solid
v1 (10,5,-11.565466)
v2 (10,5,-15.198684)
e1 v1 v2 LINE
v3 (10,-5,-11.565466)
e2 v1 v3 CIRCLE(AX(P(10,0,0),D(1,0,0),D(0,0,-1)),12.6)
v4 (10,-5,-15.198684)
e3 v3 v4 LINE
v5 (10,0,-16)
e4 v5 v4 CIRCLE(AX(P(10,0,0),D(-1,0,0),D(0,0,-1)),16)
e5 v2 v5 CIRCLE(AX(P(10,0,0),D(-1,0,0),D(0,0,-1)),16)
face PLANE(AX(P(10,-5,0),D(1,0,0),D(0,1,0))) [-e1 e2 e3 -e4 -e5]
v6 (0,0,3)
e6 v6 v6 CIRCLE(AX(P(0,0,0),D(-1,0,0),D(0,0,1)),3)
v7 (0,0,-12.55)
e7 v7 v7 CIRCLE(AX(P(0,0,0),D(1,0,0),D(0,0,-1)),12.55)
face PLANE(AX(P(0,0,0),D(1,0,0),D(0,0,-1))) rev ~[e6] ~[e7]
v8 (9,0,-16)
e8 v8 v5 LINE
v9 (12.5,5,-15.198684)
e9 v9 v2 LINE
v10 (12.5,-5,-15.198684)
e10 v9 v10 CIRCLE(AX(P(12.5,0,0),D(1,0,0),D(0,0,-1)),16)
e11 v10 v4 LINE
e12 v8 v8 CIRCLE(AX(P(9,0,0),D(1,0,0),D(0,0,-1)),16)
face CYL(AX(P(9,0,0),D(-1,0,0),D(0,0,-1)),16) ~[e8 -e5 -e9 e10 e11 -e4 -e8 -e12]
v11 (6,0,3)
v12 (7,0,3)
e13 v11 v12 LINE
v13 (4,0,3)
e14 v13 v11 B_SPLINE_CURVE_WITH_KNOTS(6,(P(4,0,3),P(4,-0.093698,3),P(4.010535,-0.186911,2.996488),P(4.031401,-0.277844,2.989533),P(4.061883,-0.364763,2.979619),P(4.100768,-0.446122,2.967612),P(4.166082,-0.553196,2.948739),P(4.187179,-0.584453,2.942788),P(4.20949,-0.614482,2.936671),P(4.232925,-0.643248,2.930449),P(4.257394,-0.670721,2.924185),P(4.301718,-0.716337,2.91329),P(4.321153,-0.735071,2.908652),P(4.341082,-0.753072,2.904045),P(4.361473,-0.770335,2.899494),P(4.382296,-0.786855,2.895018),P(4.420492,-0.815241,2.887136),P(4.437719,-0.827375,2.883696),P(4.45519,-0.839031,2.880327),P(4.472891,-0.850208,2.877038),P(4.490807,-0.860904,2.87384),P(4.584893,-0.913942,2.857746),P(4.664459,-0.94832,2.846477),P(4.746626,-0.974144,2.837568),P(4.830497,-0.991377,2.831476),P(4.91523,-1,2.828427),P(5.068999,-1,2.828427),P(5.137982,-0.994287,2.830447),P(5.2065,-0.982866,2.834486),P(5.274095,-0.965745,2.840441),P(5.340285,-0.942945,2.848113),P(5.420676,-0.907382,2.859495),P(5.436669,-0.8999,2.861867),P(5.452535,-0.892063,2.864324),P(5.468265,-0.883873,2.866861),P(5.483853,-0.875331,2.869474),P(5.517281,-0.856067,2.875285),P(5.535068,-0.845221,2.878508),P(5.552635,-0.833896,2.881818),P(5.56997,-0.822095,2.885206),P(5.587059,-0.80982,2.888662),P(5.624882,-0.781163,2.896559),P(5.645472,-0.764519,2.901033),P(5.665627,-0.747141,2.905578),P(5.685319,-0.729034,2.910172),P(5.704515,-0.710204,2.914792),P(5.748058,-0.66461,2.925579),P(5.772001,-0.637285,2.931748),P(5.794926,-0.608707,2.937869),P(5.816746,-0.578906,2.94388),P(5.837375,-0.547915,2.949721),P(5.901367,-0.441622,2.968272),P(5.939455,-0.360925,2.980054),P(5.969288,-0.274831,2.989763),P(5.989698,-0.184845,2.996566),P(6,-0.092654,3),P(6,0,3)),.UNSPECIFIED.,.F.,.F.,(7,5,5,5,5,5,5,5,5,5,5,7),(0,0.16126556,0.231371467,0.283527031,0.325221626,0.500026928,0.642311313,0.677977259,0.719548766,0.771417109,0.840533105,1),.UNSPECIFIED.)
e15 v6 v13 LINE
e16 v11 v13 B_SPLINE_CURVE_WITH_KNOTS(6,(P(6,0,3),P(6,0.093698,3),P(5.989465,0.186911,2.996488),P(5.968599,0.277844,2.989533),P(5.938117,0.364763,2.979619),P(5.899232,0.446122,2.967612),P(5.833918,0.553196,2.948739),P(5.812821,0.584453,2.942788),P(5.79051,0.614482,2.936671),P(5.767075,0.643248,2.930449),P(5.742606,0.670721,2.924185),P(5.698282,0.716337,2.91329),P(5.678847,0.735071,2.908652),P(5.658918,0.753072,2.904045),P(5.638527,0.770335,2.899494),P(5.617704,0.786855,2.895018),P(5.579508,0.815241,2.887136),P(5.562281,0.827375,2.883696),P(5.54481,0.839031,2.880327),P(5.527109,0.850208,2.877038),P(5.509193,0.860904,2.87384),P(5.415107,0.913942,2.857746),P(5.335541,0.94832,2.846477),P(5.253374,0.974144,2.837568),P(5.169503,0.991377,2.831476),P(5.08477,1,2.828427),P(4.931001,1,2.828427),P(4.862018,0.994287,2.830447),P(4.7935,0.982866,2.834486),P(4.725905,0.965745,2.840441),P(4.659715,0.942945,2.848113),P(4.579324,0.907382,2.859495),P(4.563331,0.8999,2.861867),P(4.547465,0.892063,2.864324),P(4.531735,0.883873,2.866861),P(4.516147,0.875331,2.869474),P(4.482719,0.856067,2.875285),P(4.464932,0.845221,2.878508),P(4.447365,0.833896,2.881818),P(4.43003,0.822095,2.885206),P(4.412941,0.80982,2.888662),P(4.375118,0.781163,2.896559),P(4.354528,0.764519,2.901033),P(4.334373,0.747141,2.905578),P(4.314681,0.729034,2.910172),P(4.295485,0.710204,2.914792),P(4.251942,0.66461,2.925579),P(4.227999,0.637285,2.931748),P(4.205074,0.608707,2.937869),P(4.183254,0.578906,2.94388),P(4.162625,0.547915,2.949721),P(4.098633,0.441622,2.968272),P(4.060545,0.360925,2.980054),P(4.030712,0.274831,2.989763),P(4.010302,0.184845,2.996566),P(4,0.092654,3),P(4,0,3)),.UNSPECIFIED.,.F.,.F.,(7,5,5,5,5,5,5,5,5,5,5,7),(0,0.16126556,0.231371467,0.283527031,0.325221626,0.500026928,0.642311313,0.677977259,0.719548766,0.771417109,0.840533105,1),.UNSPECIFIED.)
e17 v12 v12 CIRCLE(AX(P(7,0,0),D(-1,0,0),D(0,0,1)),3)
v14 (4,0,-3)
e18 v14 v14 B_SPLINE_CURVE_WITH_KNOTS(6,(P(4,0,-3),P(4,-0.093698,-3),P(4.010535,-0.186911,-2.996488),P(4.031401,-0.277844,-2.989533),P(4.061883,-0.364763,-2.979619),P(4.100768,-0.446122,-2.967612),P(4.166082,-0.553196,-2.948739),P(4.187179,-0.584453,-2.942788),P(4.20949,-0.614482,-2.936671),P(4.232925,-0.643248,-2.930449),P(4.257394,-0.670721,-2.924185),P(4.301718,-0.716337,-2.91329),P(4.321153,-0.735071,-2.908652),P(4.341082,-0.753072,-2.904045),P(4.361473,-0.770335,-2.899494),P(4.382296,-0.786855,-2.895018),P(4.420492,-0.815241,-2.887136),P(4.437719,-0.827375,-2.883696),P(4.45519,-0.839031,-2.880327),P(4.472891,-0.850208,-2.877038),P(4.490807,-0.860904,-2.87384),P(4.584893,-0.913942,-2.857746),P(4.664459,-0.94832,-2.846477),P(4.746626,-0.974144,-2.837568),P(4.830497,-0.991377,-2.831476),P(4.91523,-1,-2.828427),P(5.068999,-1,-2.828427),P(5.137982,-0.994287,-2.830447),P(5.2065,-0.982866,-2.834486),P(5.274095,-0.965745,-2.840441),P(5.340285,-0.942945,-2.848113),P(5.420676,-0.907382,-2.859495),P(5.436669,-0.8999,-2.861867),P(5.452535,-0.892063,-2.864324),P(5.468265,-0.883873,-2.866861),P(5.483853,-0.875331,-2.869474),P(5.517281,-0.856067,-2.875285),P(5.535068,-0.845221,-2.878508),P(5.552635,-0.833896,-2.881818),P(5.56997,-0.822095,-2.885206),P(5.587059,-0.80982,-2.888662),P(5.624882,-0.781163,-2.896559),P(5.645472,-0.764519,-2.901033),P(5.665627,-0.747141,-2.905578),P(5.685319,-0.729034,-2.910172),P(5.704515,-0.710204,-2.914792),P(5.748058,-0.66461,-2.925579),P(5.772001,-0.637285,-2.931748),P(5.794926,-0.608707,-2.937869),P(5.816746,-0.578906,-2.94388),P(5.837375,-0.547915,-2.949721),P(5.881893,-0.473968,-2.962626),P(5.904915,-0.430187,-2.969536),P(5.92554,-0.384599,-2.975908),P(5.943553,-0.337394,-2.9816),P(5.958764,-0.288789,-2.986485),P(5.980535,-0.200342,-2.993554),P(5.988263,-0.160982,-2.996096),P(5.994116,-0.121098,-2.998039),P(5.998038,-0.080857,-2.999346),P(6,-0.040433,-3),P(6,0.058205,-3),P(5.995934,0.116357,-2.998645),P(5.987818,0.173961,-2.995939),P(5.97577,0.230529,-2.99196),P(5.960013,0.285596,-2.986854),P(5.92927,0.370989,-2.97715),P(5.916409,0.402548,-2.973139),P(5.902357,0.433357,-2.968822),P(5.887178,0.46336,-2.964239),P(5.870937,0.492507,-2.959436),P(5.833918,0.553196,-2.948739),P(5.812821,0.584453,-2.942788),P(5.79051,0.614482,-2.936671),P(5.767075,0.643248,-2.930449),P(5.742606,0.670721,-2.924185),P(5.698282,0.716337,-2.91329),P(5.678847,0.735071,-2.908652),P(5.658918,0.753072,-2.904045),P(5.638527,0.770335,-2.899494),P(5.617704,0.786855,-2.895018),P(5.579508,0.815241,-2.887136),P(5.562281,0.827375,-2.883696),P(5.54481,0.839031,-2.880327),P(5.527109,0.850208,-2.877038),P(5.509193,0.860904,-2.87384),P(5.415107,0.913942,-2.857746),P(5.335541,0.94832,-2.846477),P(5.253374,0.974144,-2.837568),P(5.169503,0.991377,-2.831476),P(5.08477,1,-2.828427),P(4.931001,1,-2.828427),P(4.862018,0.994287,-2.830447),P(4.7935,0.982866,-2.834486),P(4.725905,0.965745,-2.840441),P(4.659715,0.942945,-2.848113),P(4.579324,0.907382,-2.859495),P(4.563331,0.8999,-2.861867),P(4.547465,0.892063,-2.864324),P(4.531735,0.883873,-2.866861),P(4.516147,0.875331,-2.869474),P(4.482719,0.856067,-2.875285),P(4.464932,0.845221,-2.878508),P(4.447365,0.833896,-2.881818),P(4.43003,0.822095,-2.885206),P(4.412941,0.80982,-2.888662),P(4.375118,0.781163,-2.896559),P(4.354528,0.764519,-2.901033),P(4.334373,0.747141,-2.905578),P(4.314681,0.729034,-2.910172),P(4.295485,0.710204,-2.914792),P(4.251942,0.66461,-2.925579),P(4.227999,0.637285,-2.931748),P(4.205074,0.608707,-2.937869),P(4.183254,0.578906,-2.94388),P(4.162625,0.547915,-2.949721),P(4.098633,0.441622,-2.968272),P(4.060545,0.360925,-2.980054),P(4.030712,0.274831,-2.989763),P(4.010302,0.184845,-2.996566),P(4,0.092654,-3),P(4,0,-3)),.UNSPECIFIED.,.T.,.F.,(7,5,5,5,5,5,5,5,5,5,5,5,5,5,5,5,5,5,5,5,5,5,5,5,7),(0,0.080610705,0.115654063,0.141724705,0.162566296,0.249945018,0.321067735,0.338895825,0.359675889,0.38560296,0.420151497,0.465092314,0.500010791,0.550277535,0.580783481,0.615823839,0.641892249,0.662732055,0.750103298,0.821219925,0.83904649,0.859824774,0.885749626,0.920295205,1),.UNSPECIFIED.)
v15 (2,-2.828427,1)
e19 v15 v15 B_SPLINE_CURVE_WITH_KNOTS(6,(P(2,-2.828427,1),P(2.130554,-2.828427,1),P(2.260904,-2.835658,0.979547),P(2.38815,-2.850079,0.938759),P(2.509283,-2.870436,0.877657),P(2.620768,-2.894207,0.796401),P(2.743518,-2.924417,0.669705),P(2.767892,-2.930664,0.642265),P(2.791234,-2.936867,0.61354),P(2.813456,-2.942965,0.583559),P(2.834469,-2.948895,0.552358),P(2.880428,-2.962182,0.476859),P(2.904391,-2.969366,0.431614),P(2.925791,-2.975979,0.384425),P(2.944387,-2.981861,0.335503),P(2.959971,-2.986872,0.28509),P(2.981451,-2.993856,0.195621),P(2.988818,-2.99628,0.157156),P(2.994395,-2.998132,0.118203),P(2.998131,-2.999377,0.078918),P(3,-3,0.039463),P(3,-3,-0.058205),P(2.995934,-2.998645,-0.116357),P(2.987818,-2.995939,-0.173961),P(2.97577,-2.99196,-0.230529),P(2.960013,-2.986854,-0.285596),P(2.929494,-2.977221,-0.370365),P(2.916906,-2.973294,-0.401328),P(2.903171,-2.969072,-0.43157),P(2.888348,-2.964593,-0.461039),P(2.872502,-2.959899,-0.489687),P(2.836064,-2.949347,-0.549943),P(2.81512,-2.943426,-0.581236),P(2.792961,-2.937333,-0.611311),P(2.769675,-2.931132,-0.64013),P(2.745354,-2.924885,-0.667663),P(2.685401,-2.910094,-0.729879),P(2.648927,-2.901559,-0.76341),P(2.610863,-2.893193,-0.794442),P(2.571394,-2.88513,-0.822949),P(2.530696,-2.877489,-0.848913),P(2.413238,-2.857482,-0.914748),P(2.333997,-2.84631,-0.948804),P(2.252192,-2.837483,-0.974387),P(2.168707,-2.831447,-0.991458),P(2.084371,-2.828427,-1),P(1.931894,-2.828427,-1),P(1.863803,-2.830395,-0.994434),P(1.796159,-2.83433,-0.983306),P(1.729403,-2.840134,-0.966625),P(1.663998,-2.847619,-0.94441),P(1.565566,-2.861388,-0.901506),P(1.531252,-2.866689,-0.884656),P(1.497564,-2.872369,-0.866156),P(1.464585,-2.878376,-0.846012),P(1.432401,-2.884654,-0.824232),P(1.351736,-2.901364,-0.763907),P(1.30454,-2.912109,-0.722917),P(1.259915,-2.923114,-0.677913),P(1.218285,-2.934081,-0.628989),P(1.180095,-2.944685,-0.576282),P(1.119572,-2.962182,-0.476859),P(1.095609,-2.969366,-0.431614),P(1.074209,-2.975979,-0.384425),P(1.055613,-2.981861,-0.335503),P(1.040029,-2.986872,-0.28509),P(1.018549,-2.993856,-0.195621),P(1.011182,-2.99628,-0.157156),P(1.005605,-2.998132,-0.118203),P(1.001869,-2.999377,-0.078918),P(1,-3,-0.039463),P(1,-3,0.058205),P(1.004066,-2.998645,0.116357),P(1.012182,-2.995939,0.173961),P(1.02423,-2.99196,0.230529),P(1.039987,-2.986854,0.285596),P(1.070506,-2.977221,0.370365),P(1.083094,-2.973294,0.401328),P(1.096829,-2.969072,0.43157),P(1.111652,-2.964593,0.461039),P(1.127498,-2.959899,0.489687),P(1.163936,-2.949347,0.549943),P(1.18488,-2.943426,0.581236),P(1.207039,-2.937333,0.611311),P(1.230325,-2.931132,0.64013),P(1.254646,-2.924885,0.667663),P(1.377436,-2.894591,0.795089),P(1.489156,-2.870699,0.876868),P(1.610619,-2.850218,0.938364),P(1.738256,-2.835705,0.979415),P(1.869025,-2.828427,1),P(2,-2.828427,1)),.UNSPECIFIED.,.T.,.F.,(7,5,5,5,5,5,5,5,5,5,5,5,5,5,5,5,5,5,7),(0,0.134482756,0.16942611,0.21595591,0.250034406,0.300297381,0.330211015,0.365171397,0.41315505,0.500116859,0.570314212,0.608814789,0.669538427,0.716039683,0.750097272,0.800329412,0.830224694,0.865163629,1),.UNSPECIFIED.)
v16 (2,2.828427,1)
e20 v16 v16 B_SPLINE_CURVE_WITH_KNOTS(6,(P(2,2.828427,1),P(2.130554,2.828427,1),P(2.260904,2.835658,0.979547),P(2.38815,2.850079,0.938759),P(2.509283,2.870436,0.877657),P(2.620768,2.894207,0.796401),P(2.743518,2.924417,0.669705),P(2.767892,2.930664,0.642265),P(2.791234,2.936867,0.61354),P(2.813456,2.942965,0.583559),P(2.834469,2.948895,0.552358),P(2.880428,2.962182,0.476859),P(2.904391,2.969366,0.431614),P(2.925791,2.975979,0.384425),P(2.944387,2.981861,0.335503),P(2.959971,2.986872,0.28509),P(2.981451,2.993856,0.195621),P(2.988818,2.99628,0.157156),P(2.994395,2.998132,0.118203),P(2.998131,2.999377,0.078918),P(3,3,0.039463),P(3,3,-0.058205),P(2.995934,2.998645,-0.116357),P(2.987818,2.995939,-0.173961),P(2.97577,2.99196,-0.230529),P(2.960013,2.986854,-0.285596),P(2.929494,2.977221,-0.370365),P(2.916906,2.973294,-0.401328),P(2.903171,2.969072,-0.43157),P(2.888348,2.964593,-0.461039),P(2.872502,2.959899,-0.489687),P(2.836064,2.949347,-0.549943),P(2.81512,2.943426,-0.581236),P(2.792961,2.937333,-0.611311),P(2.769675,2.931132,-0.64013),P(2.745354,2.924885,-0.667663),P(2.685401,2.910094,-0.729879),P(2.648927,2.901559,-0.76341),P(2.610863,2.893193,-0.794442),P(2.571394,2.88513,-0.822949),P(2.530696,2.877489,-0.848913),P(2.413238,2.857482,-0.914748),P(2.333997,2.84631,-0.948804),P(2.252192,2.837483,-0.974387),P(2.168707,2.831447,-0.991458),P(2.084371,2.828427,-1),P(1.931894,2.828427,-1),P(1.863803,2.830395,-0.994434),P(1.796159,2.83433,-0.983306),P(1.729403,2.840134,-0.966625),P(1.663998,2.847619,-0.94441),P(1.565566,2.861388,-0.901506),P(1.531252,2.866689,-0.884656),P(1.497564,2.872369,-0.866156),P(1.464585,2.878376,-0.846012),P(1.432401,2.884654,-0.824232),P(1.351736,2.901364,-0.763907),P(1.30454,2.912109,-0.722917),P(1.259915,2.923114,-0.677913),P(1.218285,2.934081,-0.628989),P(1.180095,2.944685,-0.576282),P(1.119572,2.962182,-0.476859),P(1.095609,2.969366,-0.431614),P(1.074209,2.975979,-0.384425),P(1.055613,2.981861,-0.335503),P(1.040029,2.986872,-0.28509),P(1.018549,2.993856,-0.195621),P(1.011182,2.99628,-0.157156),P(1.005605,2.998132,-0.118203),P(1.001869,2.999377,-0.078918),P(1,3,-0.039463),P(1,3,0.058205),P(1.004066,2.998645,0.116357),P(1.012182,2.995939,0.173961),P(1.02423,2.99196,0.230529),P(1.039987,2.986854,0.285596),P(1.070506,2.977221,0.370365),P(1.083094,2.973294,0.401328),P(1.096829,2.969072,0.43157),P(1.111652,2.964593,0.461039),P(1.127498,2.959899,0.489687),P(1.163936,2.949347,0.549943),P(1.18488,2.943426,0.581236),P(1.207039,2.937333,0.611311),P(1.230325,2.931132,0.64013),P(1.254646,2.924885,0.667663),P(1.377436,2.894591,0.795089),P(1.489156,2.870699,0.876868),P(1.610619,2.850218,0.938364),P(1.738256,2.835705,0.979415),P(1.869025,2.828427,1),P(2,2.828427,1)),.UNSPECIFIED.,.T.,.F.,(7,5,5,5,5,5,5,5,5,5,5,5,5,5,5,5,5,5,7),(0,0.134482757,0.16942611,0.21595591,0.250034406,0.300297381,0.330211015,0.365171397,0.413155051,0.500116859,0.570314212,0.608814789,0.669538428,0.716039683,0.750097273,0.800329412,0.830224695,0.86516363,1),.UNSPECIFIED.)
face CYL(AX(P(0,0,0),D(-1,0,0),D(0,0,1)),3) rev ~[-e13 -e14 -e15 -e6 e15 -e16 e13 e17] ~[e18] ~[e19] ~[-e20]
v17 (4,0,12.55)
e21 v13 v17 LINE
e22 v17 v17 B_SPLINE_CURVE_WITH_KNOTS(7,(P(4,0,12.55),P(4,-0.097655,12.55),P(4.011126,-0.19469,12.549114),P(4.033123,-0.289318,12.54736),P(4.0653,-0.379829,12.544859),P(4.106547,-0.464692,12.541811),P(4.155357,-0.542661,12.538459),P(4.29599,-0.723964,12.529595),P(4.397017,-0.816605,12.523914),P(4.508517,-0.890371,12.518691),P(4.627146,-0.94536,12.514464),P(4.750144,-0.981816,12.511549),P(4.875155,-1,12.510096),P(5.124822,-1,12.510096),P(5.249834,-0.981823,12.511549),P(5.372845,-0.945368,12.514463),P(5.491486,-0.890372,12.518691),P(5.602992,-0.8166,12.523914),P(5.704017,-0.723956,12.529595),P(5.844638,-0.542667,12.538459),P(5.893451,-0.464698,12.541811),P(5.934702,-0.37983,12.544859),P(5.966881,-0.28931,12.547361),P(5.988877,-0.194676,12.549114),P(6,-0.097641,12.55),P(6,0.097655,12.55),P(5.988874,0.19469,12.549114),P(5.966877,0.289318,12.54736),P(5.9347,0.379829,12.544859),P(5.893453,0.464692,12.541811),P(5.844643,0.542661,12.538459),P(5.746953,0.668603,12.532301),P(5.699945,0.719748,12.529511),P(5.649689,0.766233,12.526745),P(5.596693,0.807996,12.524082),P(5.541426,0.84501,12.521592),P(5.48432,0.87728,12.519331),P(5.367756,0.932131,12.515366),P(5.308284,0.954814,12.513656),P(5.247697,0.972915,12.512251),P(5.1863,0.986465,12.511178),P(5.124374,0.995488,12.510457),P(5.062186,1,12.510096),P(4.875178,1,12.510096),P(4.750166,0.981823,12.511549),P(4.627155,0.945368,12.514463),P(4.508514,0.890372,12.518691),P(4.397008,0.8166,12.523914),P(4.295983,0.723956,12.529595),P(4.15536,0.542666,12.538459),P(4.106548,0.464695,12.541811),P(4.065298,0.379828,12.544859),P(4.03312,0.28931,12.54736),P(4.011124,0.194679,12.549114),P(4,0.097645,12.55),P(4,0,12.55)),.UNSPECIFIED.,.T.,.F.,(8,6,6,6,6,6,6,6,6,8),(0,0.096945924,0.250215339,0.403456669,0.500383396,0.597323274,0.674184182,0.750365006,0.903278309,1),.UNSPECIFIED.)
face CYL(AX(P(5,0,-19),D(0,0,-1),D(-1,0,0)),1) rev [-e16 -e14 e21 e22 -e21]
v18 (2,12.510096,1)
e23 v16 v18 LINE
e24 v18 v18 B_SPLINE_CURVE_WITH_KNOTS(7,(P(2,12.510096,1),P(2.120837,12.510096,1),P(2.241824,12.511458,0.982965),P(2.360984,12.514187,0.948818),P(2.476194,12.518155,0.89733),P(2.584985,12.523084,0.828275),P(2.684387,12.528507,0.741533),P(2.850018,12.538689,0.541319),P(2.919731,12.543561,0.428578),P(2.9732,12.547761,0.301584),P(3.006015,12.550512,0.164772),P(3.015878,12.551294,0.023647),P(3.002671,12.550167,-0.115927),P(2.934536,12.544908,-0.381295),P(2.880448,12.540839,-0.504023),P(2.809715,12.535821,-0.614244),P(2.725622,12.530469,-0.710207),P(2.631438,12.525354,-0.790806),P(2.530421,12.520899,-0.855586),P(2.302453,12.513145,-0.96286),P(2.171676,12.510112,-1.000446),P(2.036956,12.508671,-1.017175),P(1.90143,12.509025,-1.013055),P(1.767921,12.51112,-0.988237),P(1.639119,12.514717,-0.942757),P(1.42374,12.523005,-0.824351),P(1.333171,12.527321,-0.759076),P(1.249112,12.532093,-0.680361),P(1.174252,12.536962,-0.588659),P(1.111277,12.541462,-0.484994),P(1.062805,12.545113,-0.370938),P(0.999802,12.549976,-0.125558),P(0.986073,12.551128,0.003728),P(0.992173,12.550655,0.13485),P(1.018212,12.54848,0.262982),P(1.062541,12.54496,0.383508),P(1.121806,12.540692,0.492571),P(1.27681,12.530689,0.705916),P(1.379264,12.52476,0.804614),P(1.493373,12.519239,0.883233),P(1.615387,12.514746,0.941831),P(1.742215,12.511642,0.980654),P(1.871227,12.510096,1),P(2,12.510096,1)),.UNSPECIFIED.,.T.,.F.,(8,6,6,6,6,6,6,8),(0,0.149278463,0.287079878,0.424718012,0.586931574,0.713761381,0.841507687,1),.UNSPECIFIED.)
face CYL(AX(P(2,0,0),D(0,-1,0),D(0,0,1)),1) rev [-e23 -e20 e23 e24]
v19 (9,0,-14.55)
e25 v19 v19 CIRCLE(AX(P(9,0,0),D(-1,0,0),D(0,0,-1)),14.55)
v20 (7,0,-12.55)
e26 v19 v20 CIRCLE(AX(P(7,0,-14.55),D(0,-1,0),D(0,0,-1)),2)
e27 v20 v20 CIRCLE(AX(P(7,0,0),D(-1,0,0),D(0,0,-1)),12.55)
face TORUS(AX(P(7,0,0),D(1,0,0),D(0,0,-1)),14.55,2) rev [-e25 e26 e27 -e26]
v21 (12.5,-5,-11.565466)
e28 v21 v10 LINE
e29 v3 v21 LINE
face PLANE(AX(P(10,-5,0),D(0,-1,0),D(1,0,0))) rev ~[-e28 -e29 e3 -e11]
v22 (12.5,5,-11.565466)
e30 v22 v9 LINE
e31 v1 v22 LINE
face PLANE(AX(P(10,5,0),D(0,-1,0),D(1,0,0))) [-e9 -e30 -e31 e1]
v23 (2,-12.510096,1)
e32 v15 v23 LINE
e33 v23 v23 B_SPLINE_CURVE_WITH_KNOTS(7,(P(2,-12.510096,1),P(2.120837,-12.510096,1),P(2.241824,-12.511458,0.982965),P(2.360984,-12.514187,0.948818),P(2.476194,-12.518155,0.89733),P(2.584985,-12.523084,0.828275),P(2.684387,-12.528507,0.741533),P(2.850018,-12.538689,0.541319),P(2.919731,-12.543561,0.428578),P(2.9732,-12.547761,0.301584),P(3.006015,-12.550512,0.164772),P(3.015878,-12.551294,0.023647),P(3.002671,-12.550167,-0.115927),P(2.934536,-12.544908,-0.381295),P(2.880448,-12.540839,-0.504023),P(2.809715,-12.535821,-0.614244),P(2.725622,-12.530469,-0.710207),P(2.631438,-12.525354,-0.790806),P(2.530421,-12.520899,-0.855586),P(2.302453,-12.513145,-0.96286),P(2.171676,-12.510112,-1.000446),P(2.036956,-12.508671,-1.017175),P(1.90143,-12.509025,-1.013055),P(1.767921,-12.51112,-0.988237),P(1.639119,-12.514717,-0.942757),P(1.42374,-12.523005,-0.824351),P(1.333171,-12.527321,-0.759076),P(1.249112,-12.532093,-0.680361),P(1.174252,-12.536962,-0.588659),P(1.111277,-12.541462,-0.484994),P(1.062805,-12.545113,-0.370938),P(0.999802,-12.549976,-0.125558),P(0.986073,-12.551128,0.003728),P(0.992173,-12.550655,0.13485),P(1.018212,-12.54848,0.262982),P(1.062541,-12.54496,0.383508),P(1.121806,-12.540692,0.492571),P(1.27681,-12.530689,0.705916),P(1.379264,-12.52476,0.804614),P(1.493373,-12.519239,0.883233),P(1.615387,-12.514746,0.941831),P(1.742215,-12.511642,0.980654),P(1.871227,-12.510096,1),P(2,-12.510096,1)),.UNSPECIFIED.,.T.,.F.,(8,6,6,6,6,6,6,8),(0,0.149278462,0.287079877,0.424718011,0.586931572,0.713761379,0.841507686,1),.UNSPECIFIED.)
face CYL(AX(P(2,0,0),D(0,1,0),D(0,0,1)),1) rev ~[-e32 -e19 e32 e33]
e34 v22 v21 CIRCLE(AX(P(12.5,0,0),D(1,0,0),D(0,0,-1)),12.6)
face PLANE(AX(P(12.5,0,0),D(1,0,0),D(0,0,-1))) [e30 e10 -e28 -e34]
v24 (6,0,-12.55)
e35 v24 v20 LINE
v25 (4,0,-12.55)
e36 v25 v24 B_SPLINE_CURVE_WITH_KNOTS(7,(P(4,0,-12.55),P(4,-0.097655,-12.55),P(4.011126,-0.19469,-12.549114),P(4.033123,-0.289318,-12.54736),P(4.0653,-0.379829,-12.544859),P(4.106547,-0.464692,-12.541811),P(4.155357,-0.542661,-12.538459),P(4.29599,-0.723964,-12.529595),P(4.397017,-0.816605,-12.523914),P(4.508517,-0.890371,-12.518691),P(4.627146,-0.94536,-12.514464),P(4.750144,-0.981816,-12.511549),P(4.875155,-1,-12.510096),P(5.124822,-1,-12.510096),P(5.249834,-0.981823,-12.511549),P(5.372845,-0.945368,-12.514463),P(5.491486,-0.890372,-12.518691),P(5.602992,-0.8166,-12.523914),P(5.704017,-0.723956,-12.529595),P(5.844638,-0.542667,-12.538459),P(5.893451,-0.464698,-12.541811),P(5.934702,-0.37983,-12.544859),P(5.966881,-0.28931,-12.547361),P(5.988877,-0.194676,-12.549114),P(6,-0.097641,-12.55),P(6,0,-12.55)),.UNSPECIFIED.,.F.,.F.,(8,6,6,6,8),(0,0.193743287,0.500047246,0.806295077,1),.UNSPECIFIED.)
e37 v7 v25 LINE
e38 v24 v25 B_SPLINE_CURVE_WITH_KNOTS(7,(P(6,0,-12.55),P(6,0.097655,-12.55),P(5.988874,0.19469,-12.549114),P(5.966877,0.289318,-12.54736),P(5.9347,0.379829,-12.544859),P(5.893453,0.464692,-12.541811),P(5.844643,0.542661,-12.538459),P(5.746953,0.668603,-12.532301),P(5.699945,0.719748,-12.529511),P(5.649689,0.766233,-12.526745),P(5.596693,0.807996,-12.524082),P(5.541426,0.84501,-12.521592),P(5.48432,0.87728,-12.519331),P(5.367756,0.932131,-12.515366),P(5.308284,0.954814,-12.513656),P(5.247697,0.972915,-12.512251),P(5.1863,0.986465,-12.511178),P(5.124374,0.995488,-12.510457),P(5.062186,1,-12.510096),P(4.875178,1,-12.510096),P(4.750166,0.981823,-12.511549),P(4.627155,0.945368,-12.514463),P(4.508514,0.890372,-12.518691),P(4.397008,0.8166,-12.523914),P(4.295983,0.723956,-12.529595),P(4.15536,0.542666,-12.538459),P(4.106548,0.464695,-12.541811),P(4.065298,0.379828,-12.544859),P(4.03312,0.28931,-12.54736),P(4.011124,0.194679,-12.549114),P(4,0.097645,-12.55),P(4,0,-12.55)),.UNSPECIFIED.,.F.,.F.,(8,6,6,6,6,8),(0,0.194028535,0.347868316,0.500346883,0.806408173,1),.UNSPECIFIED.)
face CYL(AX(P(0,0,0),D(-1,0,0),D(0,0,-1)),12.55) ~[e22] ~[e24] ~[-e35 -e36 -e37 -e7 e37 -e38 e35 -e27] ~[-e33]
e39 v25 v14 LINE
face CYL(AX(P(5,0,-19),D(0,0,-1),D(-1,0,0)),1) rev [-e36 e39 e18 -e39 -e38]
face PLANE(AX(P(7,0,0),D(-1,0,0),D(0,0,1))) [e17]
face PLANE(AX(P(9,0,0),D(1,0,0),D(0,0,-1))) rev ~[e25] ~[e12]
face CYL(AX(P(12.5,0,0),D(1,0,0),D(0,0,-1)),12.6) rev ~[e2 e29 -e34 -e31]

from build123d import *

# Parameters (mm, degrees)
SKETCH_1_R                      = 12.55
EXTRUDE_1_DEPTH                 = 10
SKETCH_2_R                      = 3
CUT_EXTRUDE_1_DEPTH             = 7
CUT_EXTRUDE_2_REACH             = 22.372
SKETCH_3_R                      = 1
CUT_EXTRUDE_2_DIRECTION_2_REACH = 22.372
CUT_EXTRUDE_3_DEPTH             = 21
CUT_EXTRUDE_3_DEPTH_BACK        = 19
SKETCH_4_R                      = 1
EXTRUDE_2_DEPTH                 = 2.5
EXTRUDE_2_DEPTH_BACK            = 1
SKETCH_5_R                      = 16
SKETCH_6_R                      = 12.6
CUT_EXTRUDE_4_DEPTH             = 2.5
FILLET_1_R                      = 2
SKETCH_7_W                      = 2.5
SKETCH_7_H                      = 10
CUT_EXTRUDE_5_DEPTH             = 21.5


with BuildPart() as part:
    # 草图1 → 凸台-拉伸1 (new body)
    with BuildSketch(Plane(origin=(0, 0, 0), x_dir=(0, 0, -1), z_dir=(1, 0, 0))):
        Circle(SKETCH_1_R)
    extrude(amount=EXTRUDE_1_DEPTH)

    # 草图2 → 切除-拉伸1 (cut)
    with BuildSketch(Plane.ZY):
        Circle(SKETCH_2_R)
    extrude(amount=-CUT_EXTRUDE_1_DEPTH, mode=Mode.SUBTRACT)

    # 草图3 → 切除-拉伸2 (cut, up to next)
    with BuildSketch(Plane(origin=(0, 0, 0), x_dir=(1, 0, 0), z_dir=(0, 1, 0)), mode=Mode.PRIVATE) as cut_extrude_2_sk1:
        with Locations(Location((2, 0, 0), (0, 0, 270))):
            Circle(SKETCH_3_R)
    cut_extrude_2_tool1 = extrude(cut_extrude_2_sk1.sketch, amount=-CUT_EXTRUDE_2_REACH, mode=Mode.PRIVATE) & part.part
    add(cut_extrude_2_tool1.solids().sort_by_distance((2, 0, 0))[0], mode=Mode.SUBTRACT)

    # 草图3 → 切除-拉伸2 direction 2 (cut, up to next)
    with BuildSketch(Plane(origin=(0, 0, 0), x_dir=(1, 0, 0), z_dir=(0, 1, 0)), mode=Mode.PRIVATE) as cut_extrude_2_direction_2_sk1:
        with Locations(Location((2, 0, 0), (0, 0, 270))):
            Circle(SKETCH_3_R)
    cut_extrude_2_direction_2_tool1 = extrude(cut_extrude_2_direction_2_sk1.sketch, amount=CUT_EXTRUDE_2_DIRECTION_2_REACH, mode=Mode.PRIVATE) & part.part
    add(cut_extrude_2_direction_2_tool1.solids().sort_by_distance((2, 0, 0))[0], mode=Mode.SUBTRACT)

    # 草图4 → 切除-拉伸3 (cut, two sides: drawn at the far end of the back side and taken through both)
    with BuildSketch(Plane.XY.offset(-CUT_EXTRUDE_3_DEPTH_BACK)):
        with Locations(Location((5, 0, 0), (0, 0, 180))):
            Circle(SKETCH_4_R)
    extrude(amount=CUT_EXTRUDE_3_DEPTH + CUT_EXTRUDE_3_DEPTH_BACK, mode=Mode.SUBTRACT)

    # 草图5 → 凸台-拉伸2 (add, two sides: drawn at the far end of the back side and taken through both)
    with BuildSketch(Plane(origin=(10, 0, 0), x_dir=(0, 0, -1), z_dir=(1, 0, 0)).offset(-EXTRUDE_2_DEPTH_BACK)):
        Circle(SKETCH_5_R)
    extrude(amount=EXTRUDE_2_DEPTH + EXTRUDE_2_DEPTH_BACK)

    # 草图6 → 切除-拉伸4 (cut)
    with BuildSketch(Plane(origin=(12.5, 0, 0), x_dir=(0, 0, -1), z_dir=(1, 0, 0))):
        Circle(SKETCH_6_R)
    extrude(amount=-CUT_EXTRUDE_4_DEPTH, mode=Mode.SUBTRACT)

    # 圆角1
    fillet_1_edges = [part.edges().sort_by_distance(p)[0] for p in [
        (9, 0, 12.55),
    ]]
    fillet(fillet_1_edges, radius=FILLET_1_R)

    # 草图7 → 切除-拉伸5 (cut)
    with BuildSketch(Plane.XY):
        with Locations((11.25, 0)):
            Rectangle(SKETCH_7_W, SKETCH_7_H)
    extrude(amount=-CUT_EXTRUDE_5_DEPTH, mode=Mode.SUBTRACT)


solid = part.part
